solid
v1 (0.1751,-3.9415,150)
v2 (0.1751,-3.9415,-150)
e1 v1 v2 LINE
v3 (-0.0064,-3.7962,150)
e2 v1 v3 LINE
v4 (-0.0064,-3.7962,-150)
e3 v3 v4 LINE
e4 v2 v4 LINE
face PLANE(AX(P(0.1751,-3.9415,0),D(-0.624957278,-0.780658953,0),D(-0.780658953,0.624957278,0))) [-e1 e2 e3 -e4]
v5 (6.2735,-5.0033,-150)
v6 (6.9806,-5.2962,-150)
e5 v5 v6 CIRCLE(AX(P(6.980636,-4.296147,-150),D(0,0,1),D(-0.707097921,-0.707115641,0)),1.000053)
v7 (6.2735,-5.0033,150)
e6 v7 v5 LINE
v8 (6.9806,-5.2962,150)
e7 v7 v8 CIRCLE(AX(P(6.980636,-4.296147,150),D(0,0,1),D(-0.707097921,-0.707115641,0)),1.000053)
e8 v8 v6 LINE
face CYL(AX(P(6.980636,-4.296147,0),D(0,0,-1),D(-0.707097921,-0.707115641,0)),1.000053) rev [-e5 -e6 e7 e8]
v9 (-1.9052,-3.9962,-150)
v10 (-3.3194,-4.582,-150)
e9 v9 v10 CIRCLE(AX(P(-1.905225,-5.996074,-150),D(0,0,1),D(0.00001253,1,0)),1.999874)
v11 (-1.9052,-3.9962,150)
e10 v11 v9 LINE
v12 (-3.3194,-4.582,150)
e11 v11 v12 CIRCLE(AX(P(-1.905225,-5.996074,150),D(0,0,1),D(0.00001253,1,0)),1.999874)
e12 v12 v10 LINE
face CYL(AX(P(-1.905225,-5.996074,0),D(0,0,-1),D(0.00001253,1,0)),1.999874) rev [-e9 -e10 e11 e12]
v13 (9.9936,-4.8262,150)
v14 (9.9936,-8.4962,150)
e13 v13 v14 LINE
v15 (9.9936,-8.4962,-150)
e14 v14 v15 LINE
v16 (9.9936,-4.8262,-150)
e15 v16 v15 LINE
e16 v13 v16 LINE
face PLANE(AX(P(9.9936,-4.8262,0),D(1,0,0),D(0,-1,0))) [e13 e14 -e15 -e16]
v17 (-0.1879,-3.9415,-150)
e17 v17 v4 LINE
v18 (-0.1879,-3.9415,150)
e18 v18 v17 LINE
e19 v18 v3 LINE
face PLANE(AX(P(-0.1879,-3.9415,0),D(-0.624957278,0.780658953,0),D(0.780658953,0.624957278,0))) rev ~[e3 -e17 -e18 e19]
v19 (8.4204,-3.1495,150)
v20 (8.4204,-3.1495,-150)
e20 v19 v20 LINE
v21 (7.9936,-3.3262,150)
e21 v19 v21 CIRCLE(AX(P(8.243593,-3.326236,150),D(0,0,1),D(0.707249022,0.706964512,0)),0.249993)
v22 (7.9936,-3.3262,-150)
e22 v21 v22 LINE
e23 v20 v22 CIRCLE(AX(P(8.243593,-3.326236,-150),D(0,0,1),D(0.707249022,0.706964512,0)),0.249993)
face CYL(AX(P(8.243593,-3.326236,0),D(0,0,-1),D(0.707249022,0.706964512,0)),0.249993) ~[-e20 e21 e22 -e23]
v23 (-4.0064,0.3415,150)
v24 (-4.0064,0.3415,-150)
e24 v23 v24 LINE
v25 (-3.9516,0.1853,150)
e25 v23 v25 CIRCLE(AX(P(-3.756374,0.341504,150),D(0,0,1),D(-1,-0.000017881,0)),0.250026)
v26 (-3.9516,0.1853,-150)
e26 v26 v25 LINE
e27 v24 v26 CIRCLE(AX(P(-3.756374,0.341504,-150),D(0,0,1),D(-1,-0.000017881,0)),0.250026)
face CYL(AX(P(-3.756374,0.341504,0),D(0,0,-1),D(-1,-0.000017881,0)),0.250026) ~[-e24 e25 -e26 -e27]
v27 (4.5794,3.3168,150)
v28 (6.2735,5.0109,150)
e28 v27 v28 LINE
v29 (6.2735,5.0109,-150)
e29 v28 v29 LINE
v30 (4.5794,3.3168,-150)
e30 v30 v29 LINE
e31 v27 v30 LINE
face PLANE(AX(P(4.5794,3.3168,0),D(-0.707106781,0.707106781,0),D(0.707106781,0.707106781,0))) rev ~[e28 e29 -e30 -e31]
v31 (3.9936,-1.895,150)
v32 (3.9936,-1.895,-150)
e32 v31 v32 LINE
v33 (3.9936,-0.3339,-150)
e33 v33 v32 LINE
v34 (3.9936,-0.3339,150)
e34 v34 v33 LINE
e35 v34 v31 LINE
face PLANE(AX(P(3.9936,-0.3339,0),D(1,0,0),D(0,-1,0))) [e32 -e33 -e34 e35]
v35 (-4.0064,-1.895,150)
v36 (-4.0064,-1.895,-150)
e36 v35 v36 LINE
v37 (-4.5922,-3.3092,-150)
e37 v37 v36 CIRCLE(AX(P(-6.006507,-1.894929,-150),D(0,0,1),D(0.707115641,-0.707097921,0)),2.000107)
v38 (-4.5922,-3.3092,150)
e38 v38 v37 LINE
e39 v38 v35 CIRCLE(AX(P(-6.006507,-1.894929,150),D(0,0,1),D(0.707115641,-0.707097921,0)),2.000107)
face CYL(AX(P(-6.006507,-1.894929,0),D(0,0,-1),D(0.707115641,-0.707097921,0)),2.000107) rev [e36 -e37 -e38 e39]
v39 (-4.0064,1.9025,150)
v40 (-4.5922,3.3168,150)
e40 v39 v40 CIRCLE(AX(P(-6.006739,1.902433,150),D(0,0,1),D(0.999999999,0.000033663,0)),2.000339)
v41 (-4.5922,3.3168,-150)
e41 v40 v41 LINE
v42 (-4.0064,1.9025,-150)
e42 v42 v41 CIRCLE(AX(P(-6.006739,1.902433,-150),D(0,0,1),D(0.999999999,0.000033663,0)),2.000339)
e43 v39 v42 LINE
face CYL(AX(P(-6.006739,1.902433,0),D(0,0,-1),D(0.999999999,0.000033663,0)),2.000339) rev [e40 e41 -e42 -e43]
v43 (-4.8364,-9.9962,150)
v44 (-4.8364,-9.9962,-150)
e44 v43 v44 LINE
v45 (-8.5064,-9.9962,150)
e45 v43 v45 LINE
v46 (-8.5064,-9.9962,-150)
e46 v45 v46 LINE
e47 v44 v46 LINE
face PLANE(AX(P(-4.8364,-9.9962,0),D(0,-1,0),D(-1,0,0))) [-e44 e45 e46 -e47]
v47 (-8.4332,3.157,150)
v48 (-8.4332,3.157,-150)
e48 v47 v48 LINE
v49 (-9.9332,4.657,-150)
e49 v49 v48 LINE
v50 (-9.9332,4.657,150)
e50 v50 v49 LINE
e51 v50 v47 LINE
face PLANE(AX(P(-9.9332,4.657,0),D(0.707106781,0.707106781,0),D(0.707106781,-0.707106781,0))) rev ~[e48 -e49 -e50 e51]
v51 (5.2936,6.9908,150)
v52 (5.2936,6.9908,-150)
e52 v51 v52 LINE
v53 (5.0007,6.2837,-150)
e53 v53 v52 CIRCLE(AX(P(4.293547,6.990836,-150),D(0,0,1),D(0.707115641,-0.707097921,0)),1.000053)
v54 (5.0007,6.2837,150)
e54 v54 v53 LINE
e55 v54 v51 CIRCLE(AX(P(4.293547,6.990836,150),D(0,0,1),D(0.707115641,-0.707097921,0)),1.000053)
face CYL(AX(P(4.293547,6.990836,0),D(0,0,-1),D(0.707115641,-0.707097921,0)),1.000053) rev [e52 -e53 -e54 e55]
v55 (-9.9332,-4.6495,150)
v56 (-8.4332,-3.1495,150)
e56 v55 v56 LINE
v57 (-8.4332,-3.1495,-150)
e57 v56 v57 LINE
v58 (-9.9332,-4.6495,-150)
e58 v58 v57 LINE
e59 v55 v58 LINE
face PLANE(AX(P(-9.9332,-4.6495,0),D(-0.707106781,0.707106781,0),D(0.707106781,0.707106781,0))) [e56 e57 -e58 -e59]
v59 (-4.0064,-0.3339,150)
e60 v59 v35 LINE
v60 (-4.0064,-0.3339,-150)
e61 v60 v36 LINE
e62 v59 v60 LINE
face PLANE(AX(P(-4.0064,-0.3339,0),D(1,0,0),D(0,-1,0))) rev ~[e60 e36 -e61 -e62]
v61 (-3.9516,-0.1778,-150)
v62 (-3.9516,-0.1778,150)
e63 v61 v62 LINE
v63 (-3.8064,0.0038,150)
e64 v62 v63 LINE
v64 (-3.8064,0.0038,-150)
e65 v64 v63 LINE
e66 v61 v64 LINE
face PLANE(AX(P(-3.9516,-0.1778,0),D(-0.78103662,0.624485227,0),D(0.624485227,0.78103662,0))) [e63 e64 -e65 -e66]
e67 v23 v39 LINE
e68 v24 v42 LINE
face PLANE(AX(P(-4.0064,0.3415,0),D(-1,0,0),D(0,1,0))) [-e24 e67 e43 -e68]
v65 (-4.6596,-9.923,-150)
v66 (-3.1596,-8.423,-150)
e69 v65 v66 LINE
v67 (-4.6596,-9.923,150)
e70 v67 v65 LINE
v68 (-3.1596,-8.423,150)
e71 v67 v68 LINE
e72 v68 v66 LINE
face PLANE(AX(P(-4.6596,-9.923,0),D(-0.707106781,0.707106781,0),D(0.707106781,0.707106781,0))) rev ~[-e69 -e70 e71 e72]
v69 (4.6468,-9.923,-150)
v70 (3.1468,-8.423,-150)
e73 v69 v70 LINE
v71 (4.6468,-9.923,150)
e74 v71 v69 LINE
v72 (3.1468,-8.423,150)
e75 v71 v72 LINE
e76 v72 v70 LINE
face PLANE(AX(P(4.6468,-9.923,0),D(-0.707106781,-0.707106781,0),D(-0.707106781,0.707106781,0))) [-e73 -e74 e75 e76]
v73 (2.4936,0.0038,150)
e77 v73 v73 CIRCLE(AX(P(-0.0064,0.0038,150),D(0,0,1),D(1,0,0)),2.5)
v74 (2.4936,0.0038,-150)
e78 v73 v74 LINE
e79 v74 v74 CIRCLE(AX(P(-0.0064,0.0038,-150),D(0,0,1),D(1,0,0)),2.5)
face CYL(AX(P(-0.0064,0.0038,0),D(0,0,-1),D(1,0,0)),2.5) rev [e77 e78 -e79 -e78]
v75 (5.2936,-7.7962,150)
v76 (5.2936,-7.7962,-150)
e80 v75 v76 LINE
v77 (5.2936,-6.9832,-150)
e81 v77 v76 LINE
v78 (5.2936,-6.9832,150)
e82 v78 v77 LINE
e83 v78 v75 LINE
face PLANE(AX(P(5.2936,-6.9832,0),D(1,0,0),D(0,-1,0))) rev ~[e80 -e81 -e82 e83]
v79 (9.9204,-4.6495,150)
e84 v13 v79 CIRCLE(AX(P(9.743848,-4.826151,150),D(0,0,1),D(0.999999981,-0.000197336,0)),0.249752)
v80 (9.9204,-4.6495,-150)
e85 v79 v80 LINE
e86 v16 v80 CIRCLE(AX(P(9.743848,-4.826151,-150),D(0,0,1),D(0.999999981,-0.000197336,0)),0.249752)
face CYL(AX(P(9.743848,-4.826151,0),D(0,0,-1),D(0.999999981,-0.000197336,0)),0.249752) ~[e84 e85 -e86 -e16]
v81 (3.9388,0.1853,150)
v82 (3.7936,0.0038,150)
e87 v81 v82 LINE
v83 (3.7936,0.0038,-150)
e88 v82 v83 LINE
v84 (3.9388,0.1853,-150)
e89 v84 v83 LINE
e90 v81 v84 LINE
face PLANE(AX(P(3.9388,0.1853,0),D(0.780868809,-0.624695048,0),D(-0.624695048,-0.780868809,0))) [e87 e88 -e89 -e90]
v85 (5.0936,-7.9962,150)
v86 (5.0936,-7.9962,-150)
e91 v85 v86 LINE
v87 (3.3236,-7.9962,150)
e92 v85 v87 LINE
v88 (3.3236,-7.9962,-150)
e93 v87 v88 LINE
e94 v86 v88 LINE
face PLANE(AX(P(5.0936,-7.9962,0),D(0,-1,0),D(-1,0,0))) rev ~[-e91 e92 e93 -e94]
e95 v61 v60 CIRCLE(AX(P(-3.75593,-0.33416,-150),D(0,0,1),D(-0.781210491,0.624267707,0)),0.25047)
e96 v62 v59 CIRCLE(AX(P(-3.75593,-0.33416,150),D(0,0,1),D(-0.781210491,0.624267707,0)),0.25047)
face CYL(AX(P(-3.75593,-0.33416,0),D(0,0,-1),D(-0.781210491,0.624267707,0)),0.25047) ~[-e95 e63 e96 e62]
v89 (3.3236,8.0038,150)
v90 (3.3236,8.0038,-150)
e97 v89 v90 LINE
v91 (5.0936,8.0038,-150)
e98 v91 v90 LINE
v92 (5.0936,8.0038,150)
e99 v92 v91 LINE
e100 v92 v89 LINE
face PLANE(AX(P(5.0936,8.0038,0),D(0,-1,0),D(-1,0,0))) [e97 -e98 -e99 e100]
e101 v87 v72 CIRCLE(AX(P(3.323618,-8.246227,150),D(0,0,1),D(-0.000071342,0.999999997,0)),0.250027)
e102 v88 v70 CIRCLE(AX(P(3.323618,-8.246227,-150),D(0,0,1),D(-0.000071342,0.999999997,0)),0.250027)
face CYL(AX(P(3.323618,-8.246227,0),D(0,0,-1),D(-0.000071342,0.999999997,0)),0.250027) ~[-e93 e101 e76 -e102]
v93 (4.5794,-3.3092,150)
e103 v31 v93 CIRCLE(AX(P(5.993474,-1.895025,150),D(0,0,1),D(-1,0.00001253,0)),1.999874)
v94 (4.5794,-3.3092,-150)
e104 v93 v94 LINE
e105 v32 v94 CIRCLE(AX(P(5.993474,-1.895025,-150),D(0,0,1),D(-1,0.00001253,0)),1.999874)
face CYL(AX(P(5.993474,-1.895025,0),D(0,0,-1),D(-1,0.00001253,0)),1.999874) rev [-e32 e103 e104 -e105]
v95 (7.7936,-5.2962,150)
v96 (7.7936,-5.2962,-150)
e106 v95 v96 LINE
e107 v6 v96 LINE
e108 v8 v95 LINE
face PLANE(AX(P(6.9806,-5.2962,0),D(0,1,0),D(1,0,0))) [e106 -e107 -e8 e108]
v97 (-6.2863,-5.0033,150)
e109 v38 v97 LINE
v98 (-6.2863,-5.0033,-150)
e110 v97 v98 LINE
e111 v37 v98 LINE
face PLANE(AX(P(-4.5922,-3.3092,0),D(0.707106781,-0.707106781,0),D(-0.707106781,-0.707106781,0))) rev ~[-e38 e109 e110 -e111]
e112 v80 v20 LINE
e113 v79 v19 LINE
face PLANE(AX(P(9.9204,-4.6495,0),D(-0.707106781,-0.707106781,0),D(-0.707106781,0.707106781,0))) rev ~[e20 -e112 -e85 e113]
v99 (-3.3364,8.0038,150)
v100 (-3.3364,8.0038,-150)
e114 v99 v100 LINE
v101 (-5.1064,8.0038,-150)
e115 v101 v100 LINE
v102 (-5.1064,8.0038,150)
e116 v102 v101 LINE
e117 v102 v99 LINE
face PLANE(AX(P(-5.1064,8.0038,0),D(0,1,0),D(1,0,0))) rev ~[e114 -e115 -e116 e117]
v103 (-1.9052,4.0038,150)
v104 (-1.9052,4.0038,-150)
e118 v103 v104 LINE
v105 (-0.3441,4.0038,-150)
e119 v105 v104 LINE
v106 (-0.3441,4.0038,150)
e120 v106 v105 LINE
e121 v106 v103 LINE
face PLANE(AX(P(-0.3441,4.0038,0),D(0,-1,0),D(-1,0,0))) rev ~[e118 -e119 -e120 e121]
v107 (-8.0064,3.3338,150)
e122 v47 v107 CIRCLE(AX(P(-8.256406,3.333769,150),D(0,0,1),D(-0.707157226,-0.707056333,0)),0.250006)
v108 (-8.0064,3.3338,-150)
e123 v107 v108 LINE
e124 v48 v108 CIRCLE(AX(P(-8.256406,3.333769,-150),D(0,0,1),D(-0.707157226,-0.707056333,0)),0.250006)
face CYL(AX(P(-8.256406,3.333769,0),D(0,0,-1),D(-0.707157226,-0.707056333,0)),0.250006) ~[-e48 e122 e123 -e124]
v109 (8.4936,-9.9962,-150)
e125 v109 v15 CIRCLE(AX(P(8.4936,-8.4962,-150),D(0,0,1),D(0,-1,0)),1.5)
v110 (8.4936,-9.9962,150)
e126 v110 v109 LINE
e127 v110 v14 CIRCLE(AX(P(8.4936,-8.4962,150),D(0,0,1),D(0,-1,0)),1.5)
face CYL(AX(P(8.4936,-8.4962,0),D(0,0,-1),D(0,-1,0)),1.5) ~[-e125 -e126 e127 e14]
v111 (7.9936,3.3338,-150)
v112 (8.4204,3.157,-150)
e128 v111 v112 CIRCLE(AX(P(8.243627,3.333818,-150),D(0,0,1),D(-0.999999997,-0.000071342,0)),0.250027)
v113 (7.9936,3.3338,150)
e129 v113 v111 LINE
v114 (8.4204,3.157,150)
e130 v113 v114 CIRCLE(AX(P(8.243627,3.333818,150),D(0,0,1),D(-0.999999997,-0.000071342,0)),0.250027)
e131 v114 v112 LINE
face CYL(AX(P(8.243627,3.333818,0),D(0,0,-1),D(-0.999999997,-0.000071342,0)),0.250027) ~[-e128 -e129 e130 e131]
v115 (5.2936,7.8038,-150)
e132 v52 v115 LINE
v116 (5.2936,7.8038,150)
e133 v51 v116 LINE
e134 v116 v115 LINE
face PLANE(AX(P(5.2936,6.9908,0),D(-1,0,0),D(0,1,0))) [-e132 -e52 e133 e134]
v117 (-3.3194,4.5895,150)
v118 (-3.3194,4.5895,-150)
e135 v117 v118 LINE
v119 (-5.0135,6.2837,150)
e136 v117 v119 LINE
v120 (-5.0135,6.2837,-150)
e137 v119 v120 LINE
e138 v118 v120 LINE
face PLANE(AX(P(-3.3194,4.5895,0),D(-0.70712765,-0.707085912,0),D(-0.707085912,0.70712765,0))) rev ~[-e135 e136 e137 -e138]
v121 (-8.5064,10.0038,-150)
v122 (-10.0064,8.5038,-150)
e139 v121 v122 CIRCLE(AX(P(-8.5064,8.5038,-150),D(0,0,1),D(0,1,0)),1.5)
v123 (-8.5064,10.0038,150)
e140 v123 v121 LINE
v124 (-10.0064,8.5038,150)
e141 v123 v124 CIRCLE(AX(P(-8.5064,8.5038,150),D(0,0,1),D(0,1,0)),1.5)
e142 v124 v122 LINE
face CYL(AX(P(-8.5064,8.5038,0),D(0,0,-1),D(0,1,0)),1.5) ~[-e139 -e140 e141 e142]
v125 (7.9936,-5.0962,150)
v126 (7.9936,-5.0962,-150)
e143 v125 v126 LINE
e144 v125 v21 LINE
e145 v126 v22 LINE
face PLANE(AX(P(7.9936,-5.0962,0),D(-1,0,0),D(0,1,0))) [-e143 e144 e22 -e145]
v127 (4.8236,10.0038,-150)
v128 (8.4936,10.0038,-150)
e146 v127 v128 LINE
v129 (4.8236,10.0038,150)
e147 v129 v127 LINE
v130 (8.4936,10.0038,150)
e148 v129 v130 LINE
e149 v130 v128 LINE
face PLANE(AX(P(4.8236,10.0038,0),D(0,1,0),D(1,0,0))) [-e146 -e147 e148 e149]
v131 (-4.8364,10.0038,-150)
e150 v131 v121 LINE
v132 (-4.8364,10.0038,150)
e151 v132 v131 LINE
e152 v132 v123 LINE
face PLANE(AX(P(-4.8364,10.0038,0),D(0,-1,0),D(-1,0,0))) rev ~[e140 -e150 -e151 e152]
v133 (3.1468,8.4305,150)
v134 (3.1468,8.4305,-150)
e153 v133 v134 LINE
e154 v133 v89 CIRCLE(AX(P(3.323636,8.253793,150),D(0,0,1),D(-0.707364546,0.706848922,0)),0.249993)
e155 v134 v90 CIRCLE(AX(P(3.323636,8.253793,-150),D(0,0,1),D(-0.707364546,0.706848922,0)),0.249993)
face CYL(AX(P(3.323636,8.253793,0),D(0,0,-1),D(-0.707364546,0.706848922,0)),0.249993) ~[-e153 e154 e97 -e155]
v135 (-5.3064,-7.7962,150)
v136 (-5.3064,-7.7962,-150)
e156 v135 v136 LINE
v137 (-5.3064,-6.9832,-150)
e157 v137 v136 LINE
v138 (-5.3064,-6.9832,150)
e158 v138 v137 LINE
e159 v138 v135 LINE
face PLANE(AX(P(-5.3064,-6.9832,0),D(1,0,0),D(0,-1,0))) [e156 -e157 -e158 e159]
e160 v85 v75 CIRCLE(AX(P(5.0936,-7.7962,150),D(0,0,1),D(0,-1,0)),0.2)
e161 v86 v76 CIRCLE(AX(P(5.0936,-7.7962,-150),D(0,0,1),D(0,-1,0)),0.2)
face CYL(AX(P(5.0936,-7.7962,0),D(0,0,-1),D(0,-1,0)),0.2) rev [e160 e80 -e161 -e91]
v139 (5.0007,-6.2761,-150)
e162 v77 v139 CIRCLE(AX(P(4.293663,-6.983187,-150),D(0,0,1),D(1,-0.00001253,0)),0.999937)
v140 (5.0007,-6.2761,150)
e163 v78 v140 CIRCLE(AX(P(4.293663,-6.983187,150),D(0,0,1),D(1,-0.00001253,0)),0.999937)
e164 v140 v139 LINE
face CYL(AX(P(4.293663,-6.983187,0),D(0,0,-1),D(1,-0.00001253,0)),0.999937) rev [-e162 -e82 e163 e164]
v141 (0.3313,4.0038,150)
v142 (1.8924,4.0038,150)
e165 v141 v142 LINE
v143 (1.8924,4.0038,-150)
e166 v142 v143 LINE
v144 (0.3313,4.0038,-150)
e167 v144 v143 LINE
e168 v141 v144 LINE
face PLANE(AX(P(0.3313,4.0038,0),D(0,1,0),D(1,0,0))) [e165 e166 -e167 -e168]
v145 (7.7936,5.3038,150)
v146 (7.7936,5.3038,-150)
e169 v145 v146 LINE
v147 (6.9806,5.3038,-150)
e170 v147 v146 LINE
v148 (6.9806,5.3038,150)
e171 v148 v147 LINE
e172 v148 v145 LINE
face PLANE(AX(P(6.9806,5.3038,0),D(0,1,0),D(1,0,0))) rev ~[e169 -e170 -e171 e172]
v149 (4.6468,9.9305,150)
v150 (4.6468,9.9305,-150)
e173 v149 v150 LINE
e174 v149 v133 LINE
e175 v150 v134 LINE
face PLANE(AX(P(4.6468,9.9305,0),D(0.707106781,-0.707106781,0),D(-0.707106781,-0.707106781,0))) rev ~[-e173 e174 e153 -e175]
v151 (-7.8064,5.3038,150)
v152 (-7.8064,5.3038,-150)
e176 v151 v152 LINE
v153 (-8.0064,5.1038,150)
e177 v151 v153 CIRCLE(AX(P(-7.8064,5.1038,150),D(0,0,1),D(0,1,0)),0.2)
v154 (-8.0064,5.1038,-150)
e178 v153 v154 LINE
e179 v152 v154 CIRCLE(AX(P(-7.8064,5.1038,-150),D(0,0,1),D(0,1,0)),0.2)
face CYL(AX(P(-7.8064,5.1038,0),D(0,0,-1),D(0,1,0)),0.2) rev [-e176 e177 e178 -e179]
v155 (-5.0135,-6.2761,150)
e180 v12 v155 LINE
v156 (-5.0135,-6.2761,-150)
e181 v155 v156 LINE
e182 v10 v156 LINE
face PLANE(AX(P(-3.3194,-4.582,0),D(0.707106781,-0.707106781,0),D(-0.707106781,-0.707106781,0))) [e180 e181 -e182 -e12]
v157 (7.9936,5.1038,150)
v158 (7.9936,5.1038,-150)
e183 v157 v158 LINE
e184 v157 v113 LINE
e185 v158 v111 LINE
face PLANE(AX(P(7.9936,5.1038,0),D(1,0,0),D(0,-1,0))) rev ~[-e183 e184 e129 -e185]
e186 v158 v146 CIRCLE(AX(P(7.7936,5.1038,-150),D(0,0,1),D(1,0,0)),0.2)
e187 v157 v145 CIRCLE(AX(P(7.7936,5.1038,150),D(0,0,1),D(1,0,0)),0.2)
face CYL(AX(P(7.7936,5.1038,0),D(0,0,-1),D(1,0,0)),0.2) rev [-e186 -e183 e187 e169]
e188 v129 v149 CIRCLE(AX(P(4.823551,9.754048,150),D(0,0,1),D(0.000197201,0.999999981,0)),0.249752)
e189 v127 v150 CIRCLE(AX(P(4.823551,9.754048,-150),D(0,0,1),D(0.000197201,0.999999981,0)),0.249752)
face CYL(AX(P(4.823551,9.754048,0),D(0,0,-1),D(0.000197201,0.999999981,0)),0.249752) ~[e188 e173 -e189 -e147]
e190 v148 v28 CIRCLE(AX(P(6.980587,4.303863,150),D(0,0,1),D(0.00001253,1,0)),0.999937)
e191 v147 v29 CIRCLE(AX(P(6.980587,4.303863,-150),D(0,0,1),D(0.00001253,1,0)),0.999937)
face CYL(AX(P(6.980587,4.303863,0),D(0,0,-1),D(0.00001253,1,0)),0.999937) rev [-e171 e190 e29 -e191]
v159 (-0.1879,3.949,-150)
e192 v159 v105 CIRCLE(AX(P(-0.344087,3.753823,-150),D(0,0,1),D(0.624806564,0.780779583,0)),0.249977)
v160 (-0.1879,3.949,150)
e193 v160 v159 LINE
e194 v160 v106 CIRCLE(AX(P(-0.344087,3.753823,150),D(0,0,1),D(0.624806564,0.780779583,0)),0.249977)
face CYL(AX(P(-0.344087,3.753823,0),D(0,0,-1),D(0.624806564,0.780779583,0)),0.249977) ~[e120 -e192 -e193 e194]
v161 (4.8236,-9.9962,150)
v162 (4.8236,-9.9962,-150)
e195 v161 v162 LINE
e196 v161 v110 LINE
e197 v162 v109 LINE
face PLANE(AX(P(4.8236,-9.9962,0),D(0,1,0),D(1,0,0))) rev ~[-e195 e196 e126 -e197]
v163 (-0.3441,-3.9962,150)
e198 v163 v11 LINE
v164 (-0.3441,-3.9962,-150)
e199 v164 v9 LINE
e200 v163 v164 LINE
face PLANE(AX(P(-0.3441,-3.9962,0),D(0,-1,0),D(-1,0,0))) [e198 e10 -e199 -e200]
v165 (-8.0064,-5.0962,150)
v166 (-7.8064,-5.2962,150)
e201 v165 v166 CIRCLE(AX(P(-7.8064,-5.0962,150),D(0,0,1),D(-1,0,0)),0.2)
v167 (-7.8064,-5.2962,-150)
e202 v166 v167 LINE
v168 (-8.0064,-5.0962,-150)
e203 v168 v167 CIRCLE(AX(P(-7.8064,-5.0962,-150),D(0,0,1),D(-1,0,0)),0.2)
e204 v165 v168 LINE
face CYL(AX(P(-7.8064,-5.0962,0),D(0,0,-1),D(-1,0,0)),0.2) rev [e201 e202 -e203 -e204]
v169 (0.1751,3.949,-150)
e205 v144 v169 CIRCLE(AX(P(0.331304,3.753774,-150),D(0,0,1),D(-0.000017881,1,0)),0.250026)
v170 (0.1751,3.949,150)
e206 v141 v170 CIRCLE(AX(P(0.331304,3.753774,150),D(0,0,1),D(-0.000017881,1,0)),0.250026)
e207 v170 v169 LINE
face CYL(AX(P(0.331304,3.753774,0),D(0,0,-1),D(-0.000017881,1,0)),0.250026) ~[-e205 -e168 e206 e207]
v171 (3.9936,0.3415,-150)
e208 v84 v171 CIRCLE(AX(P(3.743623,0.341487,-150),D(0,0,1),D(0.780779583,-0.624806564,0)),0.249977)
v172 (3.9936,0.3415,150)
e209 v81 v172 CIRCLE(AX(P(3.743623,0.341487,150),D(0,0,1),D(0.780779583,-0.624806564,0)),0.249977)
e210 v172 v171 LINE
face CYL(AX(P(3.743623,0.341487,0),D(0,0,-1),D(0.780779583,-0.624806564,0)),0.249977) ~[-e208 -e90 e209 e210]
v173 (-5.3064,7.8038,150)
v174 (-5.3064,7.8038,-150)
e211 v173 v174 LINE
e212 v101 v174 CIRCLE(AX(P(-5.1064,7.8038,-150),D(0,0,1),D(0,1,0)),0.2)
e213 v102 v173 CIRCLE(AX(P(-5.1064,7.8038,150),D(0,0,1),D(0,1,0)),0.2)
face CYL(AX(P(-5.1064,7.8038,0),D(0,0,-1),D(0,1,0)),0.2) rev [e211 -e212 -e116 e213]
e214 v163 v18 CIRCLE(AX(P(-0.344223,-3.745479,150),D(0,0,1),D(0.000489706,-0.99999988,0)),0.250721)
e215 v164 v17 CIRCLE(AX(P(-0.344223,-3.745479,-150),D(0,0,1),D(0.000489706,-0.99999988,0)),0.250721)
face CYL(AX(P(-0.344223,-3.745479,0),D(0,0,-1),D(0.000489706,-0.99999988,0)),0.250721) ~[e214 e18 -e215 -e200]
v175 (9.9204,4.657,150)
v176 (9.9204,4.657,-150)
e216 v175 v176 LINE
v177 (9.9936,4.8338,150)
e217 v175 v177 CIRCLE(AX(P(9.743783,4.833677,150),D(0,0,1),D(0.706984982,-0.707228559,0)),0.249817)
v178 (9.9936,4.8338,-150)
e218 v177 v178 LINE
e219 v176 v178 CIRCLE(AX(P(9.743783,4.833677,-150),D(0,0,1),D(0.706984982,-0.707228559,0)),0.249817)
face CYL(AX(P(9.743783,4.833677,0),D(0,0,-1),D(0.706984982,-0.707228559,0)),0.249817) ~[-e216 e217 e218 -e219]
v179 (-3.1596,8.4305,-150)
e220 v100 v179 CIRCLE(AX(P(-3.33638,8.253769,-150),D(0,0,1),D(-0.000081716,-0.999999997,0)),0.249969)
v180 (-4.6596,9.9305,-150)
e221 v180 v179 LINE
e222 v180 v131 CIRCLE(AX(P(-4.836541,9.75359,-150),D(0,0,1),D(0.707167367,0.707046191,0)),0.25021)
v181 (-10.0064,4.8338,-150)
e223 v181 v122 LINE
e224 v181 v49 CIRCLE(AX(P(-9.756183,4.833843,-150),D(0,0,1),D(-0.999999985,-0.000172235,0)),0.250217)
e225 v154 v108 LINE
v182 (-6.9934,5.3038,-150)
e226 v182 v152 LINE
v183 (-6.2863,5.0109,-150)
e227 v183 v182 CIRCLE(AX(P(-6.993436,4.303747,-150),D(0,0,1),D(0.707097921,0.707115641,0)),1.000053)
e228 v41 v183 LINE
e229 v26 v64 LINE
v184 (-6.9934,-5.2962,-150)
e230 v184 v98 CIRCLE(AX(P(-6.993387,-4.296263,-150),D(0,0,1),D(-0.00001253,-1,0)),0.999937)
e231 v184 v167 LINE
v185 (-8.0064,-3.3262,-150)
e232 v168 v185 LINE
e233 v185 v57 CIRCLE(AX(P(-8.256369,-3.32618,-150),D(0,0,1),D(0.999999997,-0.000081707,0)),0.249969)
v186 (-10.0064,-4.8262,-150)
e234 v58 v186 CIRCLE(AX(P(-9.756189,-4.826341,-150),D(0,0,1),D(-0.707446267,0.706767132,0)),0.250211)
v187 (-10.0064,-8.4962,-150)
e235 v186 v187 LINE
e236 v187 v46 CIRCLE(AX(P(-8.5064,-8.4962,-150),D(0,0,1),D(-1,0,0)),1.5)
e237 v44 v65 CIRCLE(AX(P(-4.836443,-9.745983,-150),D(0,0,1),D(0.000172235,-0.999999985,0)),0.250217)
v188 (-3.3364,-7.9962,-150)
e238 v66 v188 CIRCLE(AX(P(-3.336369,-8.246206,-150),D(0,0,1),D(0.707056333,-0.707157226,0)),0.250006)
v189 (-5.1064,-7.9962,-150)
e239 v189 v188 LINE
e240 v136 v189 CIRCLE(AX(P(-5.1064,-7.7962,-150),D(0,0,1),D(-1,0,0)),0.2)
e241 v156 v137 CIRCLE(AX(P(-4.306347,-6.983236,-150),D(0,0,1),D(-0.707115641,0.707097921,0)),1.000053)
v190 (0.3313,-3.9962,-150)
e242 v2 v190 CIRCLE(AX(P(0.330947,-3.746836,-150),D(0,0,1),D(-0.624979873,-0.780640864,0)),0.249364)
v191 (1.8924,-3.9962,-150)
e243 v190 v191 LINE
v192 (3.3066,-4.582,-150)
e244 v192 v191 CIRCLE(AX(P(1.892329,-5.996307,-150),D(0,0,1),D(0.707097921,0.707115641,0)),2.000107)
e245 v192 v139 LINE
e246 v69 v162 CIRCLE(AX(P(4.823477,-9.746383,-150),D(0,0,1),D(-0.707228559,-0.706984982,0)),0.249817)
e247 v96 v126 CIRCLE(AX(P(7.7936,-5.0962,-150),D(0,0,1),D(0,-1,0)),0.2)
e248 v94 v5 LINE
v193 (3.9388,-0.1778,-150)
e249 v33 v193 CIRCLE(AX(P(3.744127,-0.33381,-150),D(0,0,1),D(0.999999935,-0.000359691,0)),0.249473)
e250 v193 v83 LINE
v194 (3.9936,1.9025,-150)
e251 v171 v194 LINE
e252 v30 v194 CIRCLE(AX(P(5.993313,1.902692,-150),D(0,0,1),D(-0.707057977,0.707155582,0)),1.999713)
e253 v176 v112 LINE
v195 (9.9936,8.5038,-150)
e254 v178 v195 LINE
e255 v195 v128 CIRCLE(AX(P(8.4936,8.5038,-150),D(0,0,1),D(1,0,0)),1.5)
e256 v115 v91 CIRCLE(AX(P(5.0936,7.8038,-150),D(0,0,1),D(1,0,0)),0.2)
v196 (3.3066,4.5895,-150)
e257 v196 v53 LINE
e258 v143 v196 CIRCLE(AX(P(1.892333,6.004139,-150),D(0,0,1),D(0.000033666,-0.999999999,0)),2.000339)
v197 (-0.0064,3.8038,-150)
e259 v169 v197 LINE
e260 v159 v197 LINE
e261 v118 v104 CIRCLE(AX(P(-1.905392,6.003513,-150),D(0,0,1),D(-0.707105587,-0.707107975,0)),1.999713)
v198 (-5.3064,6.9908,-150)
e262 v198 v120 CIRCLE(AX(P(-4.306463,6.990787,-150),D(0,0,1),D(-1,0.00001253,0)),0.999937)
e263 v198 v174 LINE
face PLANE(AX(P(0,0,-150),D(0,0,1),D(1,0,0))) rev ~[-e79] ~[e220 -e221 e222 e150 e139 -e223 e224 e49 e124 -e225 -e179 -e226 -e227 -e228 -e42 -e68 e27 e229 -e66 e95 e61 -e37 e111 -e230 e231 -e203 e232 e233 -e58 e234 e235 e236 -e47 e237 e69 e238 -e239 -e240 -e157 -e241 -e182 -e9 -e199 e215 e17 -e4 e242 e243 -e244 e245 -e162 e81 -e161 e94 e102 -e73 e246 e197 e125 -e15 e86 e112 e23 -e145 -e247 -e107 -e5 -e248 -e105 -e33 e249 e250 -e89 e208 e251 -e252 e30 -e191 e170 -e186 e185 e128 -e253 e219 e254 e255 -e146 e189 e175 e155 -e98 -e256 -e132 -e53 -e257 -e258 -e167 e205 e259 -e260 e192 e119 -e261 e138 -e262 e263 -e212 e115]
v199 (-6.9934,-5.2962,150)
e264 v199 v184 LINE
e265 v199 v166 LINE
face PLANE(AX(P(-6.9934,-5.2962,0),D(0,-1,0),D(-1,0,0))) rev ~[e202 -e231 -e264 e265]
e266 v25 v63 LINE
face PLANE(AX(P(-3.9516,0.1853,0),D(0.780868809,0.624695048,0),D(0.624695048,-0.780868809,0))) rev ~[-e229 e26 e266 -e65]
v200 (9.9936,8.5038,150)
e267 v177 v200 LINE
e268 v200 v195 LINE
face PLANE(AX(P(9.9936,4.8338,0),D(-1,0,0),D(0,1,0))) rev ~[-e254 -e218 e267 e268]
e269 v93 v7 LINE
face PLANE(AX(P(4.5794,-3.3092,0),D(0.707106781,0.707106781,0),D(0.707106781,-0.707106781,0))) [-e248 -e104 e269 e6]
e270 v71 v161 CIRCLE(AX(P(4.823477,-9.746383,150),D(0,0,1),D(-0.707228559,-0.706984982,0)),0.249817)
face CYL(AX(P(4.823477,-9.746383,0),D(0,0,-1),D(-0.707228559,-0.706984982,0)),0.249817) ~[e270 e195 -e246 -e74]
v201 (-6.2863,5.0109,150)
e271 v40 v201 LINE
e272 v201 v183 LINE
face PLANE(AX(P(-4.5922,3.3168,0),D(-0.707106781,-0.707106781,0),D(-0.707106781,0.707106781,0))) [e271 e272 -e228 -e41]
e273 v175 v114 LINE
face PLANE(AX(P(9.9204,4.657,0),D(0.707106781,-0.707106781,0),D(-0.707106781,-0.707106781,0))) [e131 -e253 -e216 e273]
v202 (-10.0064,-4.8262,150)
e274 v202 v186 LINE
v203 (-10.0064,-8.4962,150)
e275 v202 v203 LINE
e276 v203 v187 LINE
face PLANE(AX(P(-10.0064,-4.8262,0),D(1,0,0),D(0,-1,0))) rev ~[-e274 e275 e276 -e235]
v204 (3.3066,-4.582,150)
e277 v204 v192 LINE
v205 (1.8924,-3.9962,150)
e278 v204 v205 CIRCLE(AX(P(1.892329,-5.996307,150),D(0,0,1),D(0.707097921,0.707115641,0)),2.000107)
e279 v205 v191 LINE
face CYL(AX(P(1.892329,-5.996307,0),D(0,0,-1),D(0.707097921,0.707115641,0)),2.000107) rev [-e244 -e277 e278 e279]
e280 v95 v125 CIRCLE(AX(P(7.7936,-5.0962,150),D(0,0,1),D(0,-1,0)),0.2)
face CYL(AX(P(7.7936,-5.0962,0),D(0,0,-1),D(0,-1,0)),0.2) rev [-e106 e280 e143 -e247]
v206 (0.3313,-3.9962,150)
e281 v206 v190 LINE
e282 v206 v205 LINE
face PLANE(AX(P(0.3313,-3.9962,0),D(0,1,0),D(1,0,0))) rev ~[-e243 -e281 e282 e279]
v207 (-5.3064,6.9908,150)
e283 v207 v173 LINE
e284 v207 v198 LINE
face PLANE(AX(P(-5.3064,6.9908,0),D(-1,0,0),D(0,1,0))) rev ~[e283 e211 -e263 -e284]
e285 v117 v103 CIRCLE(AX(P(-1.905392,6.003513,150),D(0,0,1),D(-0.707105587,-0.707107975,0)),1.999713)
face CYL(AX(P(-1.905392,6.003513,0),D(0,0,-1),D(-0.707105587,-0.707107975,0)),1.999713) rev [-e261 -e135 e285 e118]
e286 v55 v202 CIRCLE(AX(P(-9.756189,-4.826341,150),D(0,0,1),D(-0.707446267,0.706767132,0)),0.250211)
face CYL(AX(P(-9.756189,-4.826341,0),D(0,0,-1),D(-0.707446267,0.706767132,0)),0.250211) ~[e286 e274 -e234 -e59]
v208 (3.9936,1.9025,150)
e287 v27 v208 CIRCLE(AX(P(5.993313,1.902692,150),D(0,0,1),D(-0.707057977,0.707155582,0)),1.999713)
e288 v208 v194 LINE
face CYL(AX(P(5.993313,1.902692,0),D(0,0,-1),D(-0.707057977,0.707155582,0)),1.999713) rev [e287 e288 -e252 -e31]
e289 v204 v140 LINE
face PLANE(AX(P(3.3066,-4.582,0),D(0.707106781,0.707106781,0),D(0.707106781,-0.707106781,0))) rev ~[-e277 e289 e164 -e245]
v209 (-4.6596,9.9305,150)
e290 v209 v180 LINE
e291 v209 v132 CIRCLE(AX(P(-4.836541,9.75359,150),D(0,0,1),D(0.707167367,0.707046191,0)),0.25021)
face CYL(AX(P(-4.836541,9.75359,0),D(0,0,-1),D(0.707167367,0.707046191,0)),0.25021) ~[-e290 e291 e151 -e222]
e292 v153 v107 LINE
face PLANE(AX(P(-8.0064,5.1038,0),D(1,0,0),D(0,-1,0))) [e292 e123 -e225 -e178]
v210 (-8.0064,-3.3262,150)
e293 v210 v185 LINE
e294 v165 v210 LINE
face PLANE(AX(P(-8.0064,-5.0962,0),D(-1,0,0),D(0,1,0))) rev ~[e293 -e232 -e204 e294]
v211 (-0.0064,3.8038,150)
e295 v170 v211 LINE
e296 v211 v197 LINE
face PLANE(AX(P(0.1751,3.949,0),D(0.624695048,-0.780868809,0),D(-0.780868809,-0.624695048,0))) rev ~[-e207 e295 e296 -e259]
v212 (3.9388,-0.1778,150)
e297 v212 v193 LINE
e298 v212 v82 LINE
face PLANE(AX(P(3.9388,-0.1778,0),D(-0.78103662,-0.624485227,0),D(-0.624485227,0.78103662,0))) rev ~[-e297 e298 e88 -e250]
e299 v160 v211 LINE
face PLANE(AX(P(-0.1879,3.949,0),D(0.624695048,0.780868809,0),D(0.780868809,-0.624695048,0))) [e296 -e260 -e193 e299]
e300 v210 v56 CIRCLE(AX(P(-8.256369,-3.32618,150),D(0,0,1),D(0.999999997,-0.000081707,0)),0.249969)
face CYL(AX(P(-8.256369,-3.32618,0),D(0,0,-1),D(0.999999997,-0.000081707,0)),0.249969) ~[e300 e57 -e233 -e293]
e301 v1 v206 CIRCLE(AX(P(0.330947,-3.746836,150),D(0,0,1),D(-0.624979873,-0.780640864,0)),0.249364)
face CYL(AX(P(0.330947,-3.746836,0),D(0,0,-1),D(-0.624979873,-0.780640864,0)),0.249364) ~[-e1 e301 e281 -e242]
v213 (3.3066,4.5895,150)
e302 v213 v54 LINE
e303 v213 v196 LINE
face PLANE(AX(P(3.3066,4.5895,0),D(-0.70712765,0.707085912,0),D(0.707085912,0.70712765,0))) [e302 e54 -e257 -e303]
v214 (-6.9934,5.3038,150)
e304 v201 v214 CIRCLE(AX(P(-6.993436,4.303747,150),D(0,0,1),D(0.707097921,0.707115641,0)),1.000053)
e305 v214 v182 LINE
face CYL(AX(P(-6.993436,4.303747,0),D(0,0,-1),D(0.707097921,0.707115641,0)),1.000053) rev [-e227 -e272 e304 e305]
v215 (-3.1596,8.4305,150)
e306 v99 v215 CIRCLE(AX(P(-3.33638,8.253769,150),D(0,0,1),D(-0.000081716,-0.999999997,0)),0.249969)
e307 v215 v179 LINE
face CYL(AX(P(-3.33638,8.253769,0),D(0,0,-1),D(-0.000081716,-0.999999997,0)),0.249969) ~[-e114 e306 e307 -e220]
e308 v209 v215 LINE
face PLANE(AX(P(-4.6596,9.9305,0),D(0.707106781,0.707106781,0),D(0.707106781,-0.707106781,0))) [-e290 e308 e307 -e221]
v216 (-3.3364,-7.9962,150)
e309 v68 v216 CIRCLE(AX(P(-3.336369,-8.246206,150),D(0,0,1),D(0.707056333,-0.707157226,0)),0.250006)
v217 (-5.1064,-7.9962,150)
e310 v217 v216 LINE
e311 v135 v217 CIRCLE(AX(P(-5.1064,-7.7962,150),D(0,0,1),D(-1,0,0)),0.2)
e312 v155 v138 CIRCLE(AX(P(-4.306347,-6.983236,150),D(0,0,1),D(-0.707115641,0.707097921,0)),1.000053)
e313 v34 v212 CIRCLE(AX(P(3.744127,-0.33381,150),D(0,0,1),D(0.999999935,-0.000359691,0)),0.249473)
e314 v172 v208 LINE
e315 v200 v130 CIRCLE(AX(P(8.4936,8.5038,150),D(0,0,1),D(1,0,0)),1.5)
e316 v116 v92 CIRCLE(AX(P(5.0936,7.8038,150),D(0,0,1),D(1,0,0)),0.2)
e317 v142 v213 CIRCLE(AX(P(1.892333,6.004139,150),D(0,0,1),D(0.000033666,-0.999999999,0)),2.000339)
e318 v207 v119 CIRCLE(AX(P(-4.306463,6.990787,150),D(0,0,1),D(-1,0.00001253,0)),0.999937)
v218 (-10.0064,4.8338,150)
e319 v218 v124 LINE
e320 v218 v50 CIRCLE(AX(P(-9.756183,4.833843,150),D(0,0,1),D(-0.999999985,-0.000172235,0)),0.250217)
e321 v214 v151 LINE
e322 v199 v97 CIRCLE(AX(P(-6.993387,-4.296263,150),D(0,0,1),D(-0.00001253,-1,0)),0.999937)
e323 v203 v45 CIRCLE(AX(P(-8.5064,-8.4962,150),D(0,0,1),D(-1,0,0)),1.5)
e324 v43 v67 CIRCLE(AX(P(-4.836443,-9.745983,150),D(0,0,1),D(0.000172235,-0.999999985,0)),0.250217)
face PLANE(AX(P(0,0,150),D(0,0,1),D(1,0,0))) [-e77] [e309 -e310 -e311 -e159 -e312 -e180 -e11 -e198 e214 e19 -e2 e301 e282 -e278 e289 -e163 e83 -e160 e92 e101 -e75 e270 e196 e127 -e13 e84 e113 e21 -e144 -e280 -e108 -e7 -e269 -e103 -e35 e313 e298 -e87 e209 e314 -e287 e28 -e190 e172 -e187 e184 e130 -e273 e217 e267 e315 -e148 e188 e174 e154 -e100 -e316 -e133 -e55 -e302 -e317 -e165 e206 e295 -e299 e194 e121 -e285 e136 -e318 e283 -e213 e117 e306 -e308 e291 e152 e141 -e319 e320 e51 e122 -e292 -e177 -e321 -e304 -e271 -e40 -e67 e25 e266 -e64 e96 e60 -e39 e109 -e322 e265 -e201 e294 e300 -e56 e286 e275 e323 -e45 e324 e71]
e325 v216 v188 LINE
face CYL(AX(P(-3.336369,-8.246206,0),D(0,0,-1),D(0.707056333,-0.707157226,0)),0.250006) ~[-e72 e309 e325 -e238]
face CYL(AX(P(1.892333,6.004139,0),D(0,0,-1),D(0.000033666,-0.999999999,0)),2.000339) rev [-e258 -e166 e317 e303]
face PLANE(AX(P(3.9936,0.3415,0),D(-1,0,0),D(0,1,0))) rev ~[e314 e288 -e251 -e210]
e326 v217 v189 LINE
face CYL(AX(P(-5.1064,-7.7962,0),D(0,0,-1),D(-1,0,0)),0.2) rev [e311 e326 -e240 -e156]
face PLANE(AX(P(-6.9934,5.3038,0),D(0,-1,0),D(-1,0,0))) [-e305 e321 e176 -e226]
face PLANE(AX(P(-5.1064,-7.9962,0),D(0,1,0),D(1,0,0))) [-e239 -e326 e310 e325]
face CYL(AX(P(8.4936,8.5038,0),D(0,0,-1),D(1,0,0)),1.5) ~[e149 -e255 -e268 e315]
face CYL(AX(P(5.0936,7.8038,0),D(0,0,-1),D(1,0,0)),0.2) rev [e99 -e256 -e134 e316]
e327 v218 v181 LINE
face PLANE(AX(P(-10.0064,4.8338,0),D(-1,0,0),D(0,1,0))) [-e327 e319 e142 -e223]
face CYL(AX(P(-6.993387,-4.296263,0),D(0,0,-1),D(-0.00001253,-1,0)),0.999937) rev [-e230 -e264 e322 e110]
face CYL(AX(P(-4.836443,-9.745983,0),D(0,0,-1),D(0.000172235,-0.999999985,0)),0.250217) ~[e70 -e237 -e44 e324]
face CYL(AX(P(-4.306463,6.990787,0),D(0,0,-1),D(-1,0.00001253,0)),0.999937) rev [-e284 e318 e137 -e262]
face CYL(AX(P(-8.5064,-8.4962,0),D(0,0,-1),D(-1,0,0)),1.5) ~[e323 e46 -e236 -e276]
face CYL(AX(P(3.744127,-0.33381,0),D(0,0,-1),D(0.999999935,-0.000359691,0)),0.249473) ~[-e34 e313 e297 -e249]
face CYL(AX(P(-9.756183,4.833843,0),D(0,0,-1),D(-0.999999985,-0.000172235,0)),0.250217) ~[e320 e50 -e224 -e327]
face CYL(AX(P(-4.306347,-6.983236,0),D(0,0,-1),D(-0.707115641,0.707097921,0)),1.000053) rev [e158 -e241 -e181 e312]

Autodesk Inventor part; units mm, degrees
ref_plane "YZ Plane" through (0, 0, 0) normal (1, 0, 0) x (0, 1, 0)
ref_plane "XZ Plane" through (0, 0, 0) normal (0, 1, 0) x (-1, 0, 0)
ref_plane "XY Plane" through (0, 0, 0) normal (0, 0, 1) x (1, 0, 0)
sketch "Эскиз1" plane through (0, 0, 0) normal (0, 0, 1) x (1, 0, 0)
  line L0 (-3.9516, 0.1853) -> (-3.8064, 0.0038)
  line L1 (-3.9516, -0.1778) -> (-3.8064, 0.0038)
  arc A0 (-3.9516, -0.1778) -> (-4.0064, -0.3339) centre (-3.7564, -0.3339) ccw
  line L2 (-4.0064, -0.3339) -> (-4.0064, -1.895)
  arc A1 (-4.5922, -3.3092) -> (-4.0064, -1.895) centre (-6.0064, -1.895) ccw
  line L3 (-4.5922, -3.3092) -> (-6.2863, -5.0033)
  arc A2 (-6.9934, -5.2962) -> (-6.2863, -5.0033) centre (-6.9934, -4.2962) ccw
  line L4 (-6.9934, -5.2962) -> (-7.8064, -5.2962)
  arc A3 (-8.0064, -5.0962) -> (-7.8064, -5.2962) centre (-7.8064, -5.0962) ccw
  line L5 (-8.0064, -5.0962) -> (-8.0064, -3.3262)
  arc A4 (-8.0064, -3.3262) -> (-8.4332, -3.1495) centre (-8.2564, -3.3262) ccw
  line L6 (-9.9332, -4.6495) -> (-8.4332, -3.1495)
  arc A5 (-9.9332, -4.6495) -> (-10.0064, -4.8262) centre (-9.7564, -4.8262) ccw
  line L7 (-10.0064, -4.8262) -> (-10.0064, -8.4962)
  arc A6 (-10.0064, -8.4962) -> (-8.5064, -9.9962) centre (-8.5064, -8.4962) ccw
  line L8 (-4.8364, -9.9962) -> (-8.5064, -9.9962)
  arc A7 (-4.8364, -9.9962) -> (-4.6596, -9.923) centre (-4.8364, -9.7462) ccw
  line L9 (-4.6596, -9.923) -> (-3.1596, -8.423)
  arc A8 (-3.1596, -8.423) -> (-3.3364, -7.9962) centre (-3.3364, -8.2462) ccw
  line L10 (-5.1064, -7.9962) -> (-3.3364, -7.9962)
  arc A9 (-5.3064, -7.7962) -> (-5.1064, -7.9962) centre (-5.1064, -7.7962) ccw
  line L11 (-5.3064, -6.9832) -> (-5.3064, -7.7962)
  arc A10 (-5.0135, -6.2761) -> (-5.3064, -6.9832) centre (-4.3064, -6.9832) ccw
  line L12 (-3.3194, -4.582) -> (-5.0135, -6.2761)
  arc A11 (-1.9052, -3.9962) -> (-3.3194, -4.582) centre (-1.9052, -5.9962) ccw
  line L13 (-0.3441, -3.9962) -> (-1.9052, -3.9962)
  arc A12 (-0.3441, -3.9962) -> (-0.1879, -3.9415) centre (-0.3441, -3.7462) ccw
  line L14 (-0.1879, -3.9415) -> (-0.0064, -3.7962)
  line L15 (0.1751, -3.9415) -> (-0.0064, -3.7962)
  arc A13 (0.1751, -3.9415) -> (0.3313, -3.9962) centre (0.3313, -3.7462) ccw
  line L16 (0.3313, -3.9962) -> (1.8924, -3.9962)
  arc A14 (3.3066, -4.582) -> (1.8924, -3.9962) centre (1.8924, -5.9962) ccw
  line L17 (3.3066, -4.582) -> (5.0007, -6.2761)
  arc A15 (5.2936, -6.9832) -> (5.0007, -6.2761) centre (4.2936, -6.9832) ccw
  line L18 (5.2936, -6.9832) -> (5.2936, -7.7962)
  arc A16 (5.0936, -7.9962) -> (5.2936, -7.7962) centre (5.0936, -7.7962) ccw
  line L19 (5.0936, -7.9962) -> (3.3236, -7.9962)
  arc A17 (3.3236, -7.9962) -> (3.1468, -8.423) centre (3.3236, -8.2462) ccw
  line L20 (4.6468, -9.923) -> (3.1468, -8.423)
  arc A18 (4.6468, -9.923) -> (4.8236, -9.9962) centre (4.8236, -9.7462) ccw
  line L21 (4.8236, -9.9962) -> (8.4936, -9.9962)
  arc A19 (8.4936, -9.9962) -> (9.9936, -8.4962) centre (8.4936, -8.4962) ccw
  line L22 (9.9936, -4.8262) -> (9.9936, -8.4962)
  arc A20 (9.9936, -4.8262) -> (9.9204, -4.6495) centre (9.7436, -4.8262) ccw
  line L23 (9.9204, -4.6495) -> (8.4204, -3.1495)
  arc A21 (8.4204, -3.1495) -> (7.9936, -3.3262) centre (8.2436, -3.3262) ccw
  line L24 (7.9936, -5.0962) -> (7.9936, -3.3262)
  arc A22 (7.7936, -5.2962) -> (7.9936, -5.0962) centre (7.7936, -5.0962) ccw
  line L25 (6.9806, -5.2962) -> (7.7936, -5.2962)
  arc A23 (6.2735, -5.0033) -> (6.9806, -5.2962) centre (6.9806, -4.2962) ccw
  line L26 (4.5794, -3.3092) -> (6.2735, -5.0033)
  arc A24 (3.9936, -1.895) -> (4.5794, -3.3092) centre (5.9936, -1.895) ccw
  line L27 (3.9936, -0.3339) -> (3.9936, -1.895)
  arc A25 (3.9936, -0.3339) -> (3.9388, -0.1778) centre (3.7436, -0.3339) ccw
  line L28 (3.9388, -0.1778) -> (3.7936, 0.0038)
  line L29 (3.9388, 0.1853) -> (3.7936, 0.0038)
  arc A26 (3.9388, 0.1853) -> (3.9936, 0.3415) centre (3.7436, 0.3415) ccw
  line L30 (3.9936, 0.3415) -> (3.9936, 1.9025)
  arc A27 (4.5794, 3.3168) -> (3.9936, 1.9025) centre (5.9936, 1.9025) ccw
  line L31 (4.5794, 3.3168) -> (6.2735, 5.0109)
  arc A28 (6.9806, 5.3038) -> (6.2735, 5.0109) centre (6.9806, 4.3038) ccw
  line L32 (6.9806, 5.3038) -> (7.7936, 5.3038)
  arc A29 (7.9936, 5.1038) -> (7.7936, 5.3038) centre (7.7936, 5.1038) ccw
  line L33 (7.9936, 5.1038) -> (7.9936, 3.3338)
  arc A30 (7.9936, 3.3338) -> (8.4204, 3.157) centre (8.2436, 3.3338) ccw
  line L34 (9.9204, 4.657) -> (8.4204, 3.157)
  arc A31 (9.9204, 4.657) -> (9.9936, 4.8338) centre (9.7436, 4.8338) ccw
  line L35 (9.9936, 4.8338) -> (9.9936, 8.5038)
  arc A32 (9.9936, 8.5038) -> (8.4936, 10.0038) centre (8.4936, 8.5038) ccw
  line L36 (4.8236, 10.0038) -> (8.4936, 10.0038)
  arc A33 (4.8236, 10.0038) -> (4.6468, 9.9305) centre (4.8236, 9.7538) ccw
  line L37 (4.6468, 9.9305) -> (3.1468, 8.4305)
  arc A34 (3.1468, 8.4305) -> (3.3236, 8.0038) centre (3.3236, 8.2538) ccw
  line L38 (5.0936, 8.0038) -> (3.3236, 8.0038)
  arc A35 (5.2936, 7.8038) -> (5.0936, 8.0038) centre (5.0936, 7.8038) ccw
  line L39 (5.2936, 6.9908) -> (5.2936, 7.8038)
  arc A36 (5.0007, 6.2837) -> (5.2936, 6.9908) centre (4.2936, 6.9908) ccw
  line L40 (3.3066, 4.5895) -> (5.0007, 6.2837)
  arc A37 (1.8924, 4.0038) -> (3.3066, 4.5895) centre (1.8924, 6.0038) ccw
  line L41 (0.3313, 4.0038) -> (1.8924, 4.0038)
  arc A38 (0.3313, 4.0038) -> (0.1751, 3.949) centre (0.3313, 3.7538) ccw
  line L42 (0.1751, 3.949) -> (-0.0064, 3.8038)
  line L43 (-0.1879, 3.949) -> (-0.0064, 3.8038)
  arc A39 (-0.1879, 3.949) -> (-0.3441, 4.0038) centre (-0.3441, 3.7538) ccw
  line L44 (-0.3441, 4.0038) -> (-1.9052, 4.0038)
  arc A40 (-3.3194, 4.5895) -> (-1.9052, 4.0038) centre (-1.9052, 6.0038) ccw
  line L45 (-3.3194, 4.5895) -> (-5.0135, 6.2837)
  arc A41 (-5.3064, 6.9908) -> (-5.0135, 6.2837) centre (-4.3064, 6.9908) ccw
  line L46 (-5.3064, 6.9908) -> (-5.3064, 7.8038)
  arc A42 (-5.1064, 8.0038) -> (-5.3064, 7.8038) centre (-5.1064, 7.8038) ccw
  line L47 (-5.1064, 8.0038) -> (-3.3364, 8.0038)
  arc A43 (-3.3364, 8.0038) -> (-3.1596, 8.4305) centre (-3.3364, 8.2538) ccw
  line L48 (-4.6596, 9.9305) -> (-3.1596, 8.4305)
  arc A44 (-4.6596, 9.9305) -> (-4.8364, 10.0038) centre (-4.8364, 9.7538) ccw
  line L49 (-4.8364, 10.0038) -> (-8.5064, 10.0038)
  arc A45 (-8.5064, 10.0038) -> (-10.0064, 8.5038) centre (-8.5064, 8.5038) ccw
  line L50 (-10.0064, 4.8338) -> (-10.0064, 8.5038)
  arc A46 (-10.0064, 4.8338) -> (-9.9332, 4.657) centre (-9.7564, 4.8338) ccw
  line L51 (-9.9332, 4.657) -> (-8.4332, 3.157)
  arc A47 (-8.4332, 3.157) -> (-8.0064, 3.3338) centre (-8.2564, 3.3338) ccw
  line L52 (-8.0064, 5.1038) -> (-8.0064, 3.3338)
  arc A48 (-7.8064, 5.3038) -> (-8.0064, 5.1038) centre (-7.8064, 5.1038) ccw
  line L53 (-6.9934, 5.3038) -> (-7.8064, 5.3038)
  arc A49 (-6.2863, 5.0109) -> (-6.9934, 5.3038) centre (-6.9934, 4.3038) ccw
  line L54 (-4.5922, 3.3168) -> (-6.2863, 5.0109)
  arc A50 (-4.0064, 1.9025) -> (-4.5922, 3.3168) centre (-6.0064, 1.9025) ccw
  line L55 (-4.0064, 0.3415) -> (-4.0064, 1.9025)
  arc A51 (-4.0064, 0.3415) -> (-3.9516, 0.1853) centre (-3.7564, 0.3415) ccw
  circle A52 centre (-0.0064, 0.0038) radius 2.5
  point P0 (0, 0)
  point P1 (-0.0064, 0.0038)
  dimension "d0" = 0.25
  dimension "d1" = 1.5
  dimension "d2" = 0.2
  dimension "d3" = 1
  dimension "d4" = 2
  dimension "d5" = 5
  dimension "d6" = 135
  dimension "d7" = 38.66
  dimension "d8" = 38.66
  dimension "d9" = 45
  dimension "d10" = 2
  dimension "d11" = 4.7
  dimension "d12" = 14
  dimension "d13" = 15.3
  dimension "d14" = 20
  dimension "d15" = 2.829
  dimension "d16" = 4.629
  dimension "d17" = 7.4579
  dimension "d18" = 2.829
  dimension "d19" = 4.629
  dimension "d20" = 7.4579
  dimension "d21" = 10.6
  dimension "d22" = 4.7
  dimension "d23" = 15.3
  dimension "d24" = 2.7
  dimension "d25" = 13.3
  dimension "d26" = 5.9346
  dimension "d27" = 5.9346
  dimension "d28" = 5.9346
  dimension "d29" = 5.9346
  dimension "d30" = 9.9936
  dimension "d31" = 3.7218
  dimension "d32" = 3.7271
  dimension "d33" = 5.3038
  dimension "d34" = 2.96
  dimension "d35" = 2.9647
  dimension "d36" = 2.9742
  dimension "d37" = 2.9684
  dimension "d38" = 8.0064
  dimension "d39" = 10
  dimension "d40" = 3.729
  dimension "d41" = 10
  dimension "d42" = 3.729
extrude "Выдавливание1" add sketch "Эскиз1" along normal mid plane 300
properties part number "AP20x20" material "Aluminium 6061"
